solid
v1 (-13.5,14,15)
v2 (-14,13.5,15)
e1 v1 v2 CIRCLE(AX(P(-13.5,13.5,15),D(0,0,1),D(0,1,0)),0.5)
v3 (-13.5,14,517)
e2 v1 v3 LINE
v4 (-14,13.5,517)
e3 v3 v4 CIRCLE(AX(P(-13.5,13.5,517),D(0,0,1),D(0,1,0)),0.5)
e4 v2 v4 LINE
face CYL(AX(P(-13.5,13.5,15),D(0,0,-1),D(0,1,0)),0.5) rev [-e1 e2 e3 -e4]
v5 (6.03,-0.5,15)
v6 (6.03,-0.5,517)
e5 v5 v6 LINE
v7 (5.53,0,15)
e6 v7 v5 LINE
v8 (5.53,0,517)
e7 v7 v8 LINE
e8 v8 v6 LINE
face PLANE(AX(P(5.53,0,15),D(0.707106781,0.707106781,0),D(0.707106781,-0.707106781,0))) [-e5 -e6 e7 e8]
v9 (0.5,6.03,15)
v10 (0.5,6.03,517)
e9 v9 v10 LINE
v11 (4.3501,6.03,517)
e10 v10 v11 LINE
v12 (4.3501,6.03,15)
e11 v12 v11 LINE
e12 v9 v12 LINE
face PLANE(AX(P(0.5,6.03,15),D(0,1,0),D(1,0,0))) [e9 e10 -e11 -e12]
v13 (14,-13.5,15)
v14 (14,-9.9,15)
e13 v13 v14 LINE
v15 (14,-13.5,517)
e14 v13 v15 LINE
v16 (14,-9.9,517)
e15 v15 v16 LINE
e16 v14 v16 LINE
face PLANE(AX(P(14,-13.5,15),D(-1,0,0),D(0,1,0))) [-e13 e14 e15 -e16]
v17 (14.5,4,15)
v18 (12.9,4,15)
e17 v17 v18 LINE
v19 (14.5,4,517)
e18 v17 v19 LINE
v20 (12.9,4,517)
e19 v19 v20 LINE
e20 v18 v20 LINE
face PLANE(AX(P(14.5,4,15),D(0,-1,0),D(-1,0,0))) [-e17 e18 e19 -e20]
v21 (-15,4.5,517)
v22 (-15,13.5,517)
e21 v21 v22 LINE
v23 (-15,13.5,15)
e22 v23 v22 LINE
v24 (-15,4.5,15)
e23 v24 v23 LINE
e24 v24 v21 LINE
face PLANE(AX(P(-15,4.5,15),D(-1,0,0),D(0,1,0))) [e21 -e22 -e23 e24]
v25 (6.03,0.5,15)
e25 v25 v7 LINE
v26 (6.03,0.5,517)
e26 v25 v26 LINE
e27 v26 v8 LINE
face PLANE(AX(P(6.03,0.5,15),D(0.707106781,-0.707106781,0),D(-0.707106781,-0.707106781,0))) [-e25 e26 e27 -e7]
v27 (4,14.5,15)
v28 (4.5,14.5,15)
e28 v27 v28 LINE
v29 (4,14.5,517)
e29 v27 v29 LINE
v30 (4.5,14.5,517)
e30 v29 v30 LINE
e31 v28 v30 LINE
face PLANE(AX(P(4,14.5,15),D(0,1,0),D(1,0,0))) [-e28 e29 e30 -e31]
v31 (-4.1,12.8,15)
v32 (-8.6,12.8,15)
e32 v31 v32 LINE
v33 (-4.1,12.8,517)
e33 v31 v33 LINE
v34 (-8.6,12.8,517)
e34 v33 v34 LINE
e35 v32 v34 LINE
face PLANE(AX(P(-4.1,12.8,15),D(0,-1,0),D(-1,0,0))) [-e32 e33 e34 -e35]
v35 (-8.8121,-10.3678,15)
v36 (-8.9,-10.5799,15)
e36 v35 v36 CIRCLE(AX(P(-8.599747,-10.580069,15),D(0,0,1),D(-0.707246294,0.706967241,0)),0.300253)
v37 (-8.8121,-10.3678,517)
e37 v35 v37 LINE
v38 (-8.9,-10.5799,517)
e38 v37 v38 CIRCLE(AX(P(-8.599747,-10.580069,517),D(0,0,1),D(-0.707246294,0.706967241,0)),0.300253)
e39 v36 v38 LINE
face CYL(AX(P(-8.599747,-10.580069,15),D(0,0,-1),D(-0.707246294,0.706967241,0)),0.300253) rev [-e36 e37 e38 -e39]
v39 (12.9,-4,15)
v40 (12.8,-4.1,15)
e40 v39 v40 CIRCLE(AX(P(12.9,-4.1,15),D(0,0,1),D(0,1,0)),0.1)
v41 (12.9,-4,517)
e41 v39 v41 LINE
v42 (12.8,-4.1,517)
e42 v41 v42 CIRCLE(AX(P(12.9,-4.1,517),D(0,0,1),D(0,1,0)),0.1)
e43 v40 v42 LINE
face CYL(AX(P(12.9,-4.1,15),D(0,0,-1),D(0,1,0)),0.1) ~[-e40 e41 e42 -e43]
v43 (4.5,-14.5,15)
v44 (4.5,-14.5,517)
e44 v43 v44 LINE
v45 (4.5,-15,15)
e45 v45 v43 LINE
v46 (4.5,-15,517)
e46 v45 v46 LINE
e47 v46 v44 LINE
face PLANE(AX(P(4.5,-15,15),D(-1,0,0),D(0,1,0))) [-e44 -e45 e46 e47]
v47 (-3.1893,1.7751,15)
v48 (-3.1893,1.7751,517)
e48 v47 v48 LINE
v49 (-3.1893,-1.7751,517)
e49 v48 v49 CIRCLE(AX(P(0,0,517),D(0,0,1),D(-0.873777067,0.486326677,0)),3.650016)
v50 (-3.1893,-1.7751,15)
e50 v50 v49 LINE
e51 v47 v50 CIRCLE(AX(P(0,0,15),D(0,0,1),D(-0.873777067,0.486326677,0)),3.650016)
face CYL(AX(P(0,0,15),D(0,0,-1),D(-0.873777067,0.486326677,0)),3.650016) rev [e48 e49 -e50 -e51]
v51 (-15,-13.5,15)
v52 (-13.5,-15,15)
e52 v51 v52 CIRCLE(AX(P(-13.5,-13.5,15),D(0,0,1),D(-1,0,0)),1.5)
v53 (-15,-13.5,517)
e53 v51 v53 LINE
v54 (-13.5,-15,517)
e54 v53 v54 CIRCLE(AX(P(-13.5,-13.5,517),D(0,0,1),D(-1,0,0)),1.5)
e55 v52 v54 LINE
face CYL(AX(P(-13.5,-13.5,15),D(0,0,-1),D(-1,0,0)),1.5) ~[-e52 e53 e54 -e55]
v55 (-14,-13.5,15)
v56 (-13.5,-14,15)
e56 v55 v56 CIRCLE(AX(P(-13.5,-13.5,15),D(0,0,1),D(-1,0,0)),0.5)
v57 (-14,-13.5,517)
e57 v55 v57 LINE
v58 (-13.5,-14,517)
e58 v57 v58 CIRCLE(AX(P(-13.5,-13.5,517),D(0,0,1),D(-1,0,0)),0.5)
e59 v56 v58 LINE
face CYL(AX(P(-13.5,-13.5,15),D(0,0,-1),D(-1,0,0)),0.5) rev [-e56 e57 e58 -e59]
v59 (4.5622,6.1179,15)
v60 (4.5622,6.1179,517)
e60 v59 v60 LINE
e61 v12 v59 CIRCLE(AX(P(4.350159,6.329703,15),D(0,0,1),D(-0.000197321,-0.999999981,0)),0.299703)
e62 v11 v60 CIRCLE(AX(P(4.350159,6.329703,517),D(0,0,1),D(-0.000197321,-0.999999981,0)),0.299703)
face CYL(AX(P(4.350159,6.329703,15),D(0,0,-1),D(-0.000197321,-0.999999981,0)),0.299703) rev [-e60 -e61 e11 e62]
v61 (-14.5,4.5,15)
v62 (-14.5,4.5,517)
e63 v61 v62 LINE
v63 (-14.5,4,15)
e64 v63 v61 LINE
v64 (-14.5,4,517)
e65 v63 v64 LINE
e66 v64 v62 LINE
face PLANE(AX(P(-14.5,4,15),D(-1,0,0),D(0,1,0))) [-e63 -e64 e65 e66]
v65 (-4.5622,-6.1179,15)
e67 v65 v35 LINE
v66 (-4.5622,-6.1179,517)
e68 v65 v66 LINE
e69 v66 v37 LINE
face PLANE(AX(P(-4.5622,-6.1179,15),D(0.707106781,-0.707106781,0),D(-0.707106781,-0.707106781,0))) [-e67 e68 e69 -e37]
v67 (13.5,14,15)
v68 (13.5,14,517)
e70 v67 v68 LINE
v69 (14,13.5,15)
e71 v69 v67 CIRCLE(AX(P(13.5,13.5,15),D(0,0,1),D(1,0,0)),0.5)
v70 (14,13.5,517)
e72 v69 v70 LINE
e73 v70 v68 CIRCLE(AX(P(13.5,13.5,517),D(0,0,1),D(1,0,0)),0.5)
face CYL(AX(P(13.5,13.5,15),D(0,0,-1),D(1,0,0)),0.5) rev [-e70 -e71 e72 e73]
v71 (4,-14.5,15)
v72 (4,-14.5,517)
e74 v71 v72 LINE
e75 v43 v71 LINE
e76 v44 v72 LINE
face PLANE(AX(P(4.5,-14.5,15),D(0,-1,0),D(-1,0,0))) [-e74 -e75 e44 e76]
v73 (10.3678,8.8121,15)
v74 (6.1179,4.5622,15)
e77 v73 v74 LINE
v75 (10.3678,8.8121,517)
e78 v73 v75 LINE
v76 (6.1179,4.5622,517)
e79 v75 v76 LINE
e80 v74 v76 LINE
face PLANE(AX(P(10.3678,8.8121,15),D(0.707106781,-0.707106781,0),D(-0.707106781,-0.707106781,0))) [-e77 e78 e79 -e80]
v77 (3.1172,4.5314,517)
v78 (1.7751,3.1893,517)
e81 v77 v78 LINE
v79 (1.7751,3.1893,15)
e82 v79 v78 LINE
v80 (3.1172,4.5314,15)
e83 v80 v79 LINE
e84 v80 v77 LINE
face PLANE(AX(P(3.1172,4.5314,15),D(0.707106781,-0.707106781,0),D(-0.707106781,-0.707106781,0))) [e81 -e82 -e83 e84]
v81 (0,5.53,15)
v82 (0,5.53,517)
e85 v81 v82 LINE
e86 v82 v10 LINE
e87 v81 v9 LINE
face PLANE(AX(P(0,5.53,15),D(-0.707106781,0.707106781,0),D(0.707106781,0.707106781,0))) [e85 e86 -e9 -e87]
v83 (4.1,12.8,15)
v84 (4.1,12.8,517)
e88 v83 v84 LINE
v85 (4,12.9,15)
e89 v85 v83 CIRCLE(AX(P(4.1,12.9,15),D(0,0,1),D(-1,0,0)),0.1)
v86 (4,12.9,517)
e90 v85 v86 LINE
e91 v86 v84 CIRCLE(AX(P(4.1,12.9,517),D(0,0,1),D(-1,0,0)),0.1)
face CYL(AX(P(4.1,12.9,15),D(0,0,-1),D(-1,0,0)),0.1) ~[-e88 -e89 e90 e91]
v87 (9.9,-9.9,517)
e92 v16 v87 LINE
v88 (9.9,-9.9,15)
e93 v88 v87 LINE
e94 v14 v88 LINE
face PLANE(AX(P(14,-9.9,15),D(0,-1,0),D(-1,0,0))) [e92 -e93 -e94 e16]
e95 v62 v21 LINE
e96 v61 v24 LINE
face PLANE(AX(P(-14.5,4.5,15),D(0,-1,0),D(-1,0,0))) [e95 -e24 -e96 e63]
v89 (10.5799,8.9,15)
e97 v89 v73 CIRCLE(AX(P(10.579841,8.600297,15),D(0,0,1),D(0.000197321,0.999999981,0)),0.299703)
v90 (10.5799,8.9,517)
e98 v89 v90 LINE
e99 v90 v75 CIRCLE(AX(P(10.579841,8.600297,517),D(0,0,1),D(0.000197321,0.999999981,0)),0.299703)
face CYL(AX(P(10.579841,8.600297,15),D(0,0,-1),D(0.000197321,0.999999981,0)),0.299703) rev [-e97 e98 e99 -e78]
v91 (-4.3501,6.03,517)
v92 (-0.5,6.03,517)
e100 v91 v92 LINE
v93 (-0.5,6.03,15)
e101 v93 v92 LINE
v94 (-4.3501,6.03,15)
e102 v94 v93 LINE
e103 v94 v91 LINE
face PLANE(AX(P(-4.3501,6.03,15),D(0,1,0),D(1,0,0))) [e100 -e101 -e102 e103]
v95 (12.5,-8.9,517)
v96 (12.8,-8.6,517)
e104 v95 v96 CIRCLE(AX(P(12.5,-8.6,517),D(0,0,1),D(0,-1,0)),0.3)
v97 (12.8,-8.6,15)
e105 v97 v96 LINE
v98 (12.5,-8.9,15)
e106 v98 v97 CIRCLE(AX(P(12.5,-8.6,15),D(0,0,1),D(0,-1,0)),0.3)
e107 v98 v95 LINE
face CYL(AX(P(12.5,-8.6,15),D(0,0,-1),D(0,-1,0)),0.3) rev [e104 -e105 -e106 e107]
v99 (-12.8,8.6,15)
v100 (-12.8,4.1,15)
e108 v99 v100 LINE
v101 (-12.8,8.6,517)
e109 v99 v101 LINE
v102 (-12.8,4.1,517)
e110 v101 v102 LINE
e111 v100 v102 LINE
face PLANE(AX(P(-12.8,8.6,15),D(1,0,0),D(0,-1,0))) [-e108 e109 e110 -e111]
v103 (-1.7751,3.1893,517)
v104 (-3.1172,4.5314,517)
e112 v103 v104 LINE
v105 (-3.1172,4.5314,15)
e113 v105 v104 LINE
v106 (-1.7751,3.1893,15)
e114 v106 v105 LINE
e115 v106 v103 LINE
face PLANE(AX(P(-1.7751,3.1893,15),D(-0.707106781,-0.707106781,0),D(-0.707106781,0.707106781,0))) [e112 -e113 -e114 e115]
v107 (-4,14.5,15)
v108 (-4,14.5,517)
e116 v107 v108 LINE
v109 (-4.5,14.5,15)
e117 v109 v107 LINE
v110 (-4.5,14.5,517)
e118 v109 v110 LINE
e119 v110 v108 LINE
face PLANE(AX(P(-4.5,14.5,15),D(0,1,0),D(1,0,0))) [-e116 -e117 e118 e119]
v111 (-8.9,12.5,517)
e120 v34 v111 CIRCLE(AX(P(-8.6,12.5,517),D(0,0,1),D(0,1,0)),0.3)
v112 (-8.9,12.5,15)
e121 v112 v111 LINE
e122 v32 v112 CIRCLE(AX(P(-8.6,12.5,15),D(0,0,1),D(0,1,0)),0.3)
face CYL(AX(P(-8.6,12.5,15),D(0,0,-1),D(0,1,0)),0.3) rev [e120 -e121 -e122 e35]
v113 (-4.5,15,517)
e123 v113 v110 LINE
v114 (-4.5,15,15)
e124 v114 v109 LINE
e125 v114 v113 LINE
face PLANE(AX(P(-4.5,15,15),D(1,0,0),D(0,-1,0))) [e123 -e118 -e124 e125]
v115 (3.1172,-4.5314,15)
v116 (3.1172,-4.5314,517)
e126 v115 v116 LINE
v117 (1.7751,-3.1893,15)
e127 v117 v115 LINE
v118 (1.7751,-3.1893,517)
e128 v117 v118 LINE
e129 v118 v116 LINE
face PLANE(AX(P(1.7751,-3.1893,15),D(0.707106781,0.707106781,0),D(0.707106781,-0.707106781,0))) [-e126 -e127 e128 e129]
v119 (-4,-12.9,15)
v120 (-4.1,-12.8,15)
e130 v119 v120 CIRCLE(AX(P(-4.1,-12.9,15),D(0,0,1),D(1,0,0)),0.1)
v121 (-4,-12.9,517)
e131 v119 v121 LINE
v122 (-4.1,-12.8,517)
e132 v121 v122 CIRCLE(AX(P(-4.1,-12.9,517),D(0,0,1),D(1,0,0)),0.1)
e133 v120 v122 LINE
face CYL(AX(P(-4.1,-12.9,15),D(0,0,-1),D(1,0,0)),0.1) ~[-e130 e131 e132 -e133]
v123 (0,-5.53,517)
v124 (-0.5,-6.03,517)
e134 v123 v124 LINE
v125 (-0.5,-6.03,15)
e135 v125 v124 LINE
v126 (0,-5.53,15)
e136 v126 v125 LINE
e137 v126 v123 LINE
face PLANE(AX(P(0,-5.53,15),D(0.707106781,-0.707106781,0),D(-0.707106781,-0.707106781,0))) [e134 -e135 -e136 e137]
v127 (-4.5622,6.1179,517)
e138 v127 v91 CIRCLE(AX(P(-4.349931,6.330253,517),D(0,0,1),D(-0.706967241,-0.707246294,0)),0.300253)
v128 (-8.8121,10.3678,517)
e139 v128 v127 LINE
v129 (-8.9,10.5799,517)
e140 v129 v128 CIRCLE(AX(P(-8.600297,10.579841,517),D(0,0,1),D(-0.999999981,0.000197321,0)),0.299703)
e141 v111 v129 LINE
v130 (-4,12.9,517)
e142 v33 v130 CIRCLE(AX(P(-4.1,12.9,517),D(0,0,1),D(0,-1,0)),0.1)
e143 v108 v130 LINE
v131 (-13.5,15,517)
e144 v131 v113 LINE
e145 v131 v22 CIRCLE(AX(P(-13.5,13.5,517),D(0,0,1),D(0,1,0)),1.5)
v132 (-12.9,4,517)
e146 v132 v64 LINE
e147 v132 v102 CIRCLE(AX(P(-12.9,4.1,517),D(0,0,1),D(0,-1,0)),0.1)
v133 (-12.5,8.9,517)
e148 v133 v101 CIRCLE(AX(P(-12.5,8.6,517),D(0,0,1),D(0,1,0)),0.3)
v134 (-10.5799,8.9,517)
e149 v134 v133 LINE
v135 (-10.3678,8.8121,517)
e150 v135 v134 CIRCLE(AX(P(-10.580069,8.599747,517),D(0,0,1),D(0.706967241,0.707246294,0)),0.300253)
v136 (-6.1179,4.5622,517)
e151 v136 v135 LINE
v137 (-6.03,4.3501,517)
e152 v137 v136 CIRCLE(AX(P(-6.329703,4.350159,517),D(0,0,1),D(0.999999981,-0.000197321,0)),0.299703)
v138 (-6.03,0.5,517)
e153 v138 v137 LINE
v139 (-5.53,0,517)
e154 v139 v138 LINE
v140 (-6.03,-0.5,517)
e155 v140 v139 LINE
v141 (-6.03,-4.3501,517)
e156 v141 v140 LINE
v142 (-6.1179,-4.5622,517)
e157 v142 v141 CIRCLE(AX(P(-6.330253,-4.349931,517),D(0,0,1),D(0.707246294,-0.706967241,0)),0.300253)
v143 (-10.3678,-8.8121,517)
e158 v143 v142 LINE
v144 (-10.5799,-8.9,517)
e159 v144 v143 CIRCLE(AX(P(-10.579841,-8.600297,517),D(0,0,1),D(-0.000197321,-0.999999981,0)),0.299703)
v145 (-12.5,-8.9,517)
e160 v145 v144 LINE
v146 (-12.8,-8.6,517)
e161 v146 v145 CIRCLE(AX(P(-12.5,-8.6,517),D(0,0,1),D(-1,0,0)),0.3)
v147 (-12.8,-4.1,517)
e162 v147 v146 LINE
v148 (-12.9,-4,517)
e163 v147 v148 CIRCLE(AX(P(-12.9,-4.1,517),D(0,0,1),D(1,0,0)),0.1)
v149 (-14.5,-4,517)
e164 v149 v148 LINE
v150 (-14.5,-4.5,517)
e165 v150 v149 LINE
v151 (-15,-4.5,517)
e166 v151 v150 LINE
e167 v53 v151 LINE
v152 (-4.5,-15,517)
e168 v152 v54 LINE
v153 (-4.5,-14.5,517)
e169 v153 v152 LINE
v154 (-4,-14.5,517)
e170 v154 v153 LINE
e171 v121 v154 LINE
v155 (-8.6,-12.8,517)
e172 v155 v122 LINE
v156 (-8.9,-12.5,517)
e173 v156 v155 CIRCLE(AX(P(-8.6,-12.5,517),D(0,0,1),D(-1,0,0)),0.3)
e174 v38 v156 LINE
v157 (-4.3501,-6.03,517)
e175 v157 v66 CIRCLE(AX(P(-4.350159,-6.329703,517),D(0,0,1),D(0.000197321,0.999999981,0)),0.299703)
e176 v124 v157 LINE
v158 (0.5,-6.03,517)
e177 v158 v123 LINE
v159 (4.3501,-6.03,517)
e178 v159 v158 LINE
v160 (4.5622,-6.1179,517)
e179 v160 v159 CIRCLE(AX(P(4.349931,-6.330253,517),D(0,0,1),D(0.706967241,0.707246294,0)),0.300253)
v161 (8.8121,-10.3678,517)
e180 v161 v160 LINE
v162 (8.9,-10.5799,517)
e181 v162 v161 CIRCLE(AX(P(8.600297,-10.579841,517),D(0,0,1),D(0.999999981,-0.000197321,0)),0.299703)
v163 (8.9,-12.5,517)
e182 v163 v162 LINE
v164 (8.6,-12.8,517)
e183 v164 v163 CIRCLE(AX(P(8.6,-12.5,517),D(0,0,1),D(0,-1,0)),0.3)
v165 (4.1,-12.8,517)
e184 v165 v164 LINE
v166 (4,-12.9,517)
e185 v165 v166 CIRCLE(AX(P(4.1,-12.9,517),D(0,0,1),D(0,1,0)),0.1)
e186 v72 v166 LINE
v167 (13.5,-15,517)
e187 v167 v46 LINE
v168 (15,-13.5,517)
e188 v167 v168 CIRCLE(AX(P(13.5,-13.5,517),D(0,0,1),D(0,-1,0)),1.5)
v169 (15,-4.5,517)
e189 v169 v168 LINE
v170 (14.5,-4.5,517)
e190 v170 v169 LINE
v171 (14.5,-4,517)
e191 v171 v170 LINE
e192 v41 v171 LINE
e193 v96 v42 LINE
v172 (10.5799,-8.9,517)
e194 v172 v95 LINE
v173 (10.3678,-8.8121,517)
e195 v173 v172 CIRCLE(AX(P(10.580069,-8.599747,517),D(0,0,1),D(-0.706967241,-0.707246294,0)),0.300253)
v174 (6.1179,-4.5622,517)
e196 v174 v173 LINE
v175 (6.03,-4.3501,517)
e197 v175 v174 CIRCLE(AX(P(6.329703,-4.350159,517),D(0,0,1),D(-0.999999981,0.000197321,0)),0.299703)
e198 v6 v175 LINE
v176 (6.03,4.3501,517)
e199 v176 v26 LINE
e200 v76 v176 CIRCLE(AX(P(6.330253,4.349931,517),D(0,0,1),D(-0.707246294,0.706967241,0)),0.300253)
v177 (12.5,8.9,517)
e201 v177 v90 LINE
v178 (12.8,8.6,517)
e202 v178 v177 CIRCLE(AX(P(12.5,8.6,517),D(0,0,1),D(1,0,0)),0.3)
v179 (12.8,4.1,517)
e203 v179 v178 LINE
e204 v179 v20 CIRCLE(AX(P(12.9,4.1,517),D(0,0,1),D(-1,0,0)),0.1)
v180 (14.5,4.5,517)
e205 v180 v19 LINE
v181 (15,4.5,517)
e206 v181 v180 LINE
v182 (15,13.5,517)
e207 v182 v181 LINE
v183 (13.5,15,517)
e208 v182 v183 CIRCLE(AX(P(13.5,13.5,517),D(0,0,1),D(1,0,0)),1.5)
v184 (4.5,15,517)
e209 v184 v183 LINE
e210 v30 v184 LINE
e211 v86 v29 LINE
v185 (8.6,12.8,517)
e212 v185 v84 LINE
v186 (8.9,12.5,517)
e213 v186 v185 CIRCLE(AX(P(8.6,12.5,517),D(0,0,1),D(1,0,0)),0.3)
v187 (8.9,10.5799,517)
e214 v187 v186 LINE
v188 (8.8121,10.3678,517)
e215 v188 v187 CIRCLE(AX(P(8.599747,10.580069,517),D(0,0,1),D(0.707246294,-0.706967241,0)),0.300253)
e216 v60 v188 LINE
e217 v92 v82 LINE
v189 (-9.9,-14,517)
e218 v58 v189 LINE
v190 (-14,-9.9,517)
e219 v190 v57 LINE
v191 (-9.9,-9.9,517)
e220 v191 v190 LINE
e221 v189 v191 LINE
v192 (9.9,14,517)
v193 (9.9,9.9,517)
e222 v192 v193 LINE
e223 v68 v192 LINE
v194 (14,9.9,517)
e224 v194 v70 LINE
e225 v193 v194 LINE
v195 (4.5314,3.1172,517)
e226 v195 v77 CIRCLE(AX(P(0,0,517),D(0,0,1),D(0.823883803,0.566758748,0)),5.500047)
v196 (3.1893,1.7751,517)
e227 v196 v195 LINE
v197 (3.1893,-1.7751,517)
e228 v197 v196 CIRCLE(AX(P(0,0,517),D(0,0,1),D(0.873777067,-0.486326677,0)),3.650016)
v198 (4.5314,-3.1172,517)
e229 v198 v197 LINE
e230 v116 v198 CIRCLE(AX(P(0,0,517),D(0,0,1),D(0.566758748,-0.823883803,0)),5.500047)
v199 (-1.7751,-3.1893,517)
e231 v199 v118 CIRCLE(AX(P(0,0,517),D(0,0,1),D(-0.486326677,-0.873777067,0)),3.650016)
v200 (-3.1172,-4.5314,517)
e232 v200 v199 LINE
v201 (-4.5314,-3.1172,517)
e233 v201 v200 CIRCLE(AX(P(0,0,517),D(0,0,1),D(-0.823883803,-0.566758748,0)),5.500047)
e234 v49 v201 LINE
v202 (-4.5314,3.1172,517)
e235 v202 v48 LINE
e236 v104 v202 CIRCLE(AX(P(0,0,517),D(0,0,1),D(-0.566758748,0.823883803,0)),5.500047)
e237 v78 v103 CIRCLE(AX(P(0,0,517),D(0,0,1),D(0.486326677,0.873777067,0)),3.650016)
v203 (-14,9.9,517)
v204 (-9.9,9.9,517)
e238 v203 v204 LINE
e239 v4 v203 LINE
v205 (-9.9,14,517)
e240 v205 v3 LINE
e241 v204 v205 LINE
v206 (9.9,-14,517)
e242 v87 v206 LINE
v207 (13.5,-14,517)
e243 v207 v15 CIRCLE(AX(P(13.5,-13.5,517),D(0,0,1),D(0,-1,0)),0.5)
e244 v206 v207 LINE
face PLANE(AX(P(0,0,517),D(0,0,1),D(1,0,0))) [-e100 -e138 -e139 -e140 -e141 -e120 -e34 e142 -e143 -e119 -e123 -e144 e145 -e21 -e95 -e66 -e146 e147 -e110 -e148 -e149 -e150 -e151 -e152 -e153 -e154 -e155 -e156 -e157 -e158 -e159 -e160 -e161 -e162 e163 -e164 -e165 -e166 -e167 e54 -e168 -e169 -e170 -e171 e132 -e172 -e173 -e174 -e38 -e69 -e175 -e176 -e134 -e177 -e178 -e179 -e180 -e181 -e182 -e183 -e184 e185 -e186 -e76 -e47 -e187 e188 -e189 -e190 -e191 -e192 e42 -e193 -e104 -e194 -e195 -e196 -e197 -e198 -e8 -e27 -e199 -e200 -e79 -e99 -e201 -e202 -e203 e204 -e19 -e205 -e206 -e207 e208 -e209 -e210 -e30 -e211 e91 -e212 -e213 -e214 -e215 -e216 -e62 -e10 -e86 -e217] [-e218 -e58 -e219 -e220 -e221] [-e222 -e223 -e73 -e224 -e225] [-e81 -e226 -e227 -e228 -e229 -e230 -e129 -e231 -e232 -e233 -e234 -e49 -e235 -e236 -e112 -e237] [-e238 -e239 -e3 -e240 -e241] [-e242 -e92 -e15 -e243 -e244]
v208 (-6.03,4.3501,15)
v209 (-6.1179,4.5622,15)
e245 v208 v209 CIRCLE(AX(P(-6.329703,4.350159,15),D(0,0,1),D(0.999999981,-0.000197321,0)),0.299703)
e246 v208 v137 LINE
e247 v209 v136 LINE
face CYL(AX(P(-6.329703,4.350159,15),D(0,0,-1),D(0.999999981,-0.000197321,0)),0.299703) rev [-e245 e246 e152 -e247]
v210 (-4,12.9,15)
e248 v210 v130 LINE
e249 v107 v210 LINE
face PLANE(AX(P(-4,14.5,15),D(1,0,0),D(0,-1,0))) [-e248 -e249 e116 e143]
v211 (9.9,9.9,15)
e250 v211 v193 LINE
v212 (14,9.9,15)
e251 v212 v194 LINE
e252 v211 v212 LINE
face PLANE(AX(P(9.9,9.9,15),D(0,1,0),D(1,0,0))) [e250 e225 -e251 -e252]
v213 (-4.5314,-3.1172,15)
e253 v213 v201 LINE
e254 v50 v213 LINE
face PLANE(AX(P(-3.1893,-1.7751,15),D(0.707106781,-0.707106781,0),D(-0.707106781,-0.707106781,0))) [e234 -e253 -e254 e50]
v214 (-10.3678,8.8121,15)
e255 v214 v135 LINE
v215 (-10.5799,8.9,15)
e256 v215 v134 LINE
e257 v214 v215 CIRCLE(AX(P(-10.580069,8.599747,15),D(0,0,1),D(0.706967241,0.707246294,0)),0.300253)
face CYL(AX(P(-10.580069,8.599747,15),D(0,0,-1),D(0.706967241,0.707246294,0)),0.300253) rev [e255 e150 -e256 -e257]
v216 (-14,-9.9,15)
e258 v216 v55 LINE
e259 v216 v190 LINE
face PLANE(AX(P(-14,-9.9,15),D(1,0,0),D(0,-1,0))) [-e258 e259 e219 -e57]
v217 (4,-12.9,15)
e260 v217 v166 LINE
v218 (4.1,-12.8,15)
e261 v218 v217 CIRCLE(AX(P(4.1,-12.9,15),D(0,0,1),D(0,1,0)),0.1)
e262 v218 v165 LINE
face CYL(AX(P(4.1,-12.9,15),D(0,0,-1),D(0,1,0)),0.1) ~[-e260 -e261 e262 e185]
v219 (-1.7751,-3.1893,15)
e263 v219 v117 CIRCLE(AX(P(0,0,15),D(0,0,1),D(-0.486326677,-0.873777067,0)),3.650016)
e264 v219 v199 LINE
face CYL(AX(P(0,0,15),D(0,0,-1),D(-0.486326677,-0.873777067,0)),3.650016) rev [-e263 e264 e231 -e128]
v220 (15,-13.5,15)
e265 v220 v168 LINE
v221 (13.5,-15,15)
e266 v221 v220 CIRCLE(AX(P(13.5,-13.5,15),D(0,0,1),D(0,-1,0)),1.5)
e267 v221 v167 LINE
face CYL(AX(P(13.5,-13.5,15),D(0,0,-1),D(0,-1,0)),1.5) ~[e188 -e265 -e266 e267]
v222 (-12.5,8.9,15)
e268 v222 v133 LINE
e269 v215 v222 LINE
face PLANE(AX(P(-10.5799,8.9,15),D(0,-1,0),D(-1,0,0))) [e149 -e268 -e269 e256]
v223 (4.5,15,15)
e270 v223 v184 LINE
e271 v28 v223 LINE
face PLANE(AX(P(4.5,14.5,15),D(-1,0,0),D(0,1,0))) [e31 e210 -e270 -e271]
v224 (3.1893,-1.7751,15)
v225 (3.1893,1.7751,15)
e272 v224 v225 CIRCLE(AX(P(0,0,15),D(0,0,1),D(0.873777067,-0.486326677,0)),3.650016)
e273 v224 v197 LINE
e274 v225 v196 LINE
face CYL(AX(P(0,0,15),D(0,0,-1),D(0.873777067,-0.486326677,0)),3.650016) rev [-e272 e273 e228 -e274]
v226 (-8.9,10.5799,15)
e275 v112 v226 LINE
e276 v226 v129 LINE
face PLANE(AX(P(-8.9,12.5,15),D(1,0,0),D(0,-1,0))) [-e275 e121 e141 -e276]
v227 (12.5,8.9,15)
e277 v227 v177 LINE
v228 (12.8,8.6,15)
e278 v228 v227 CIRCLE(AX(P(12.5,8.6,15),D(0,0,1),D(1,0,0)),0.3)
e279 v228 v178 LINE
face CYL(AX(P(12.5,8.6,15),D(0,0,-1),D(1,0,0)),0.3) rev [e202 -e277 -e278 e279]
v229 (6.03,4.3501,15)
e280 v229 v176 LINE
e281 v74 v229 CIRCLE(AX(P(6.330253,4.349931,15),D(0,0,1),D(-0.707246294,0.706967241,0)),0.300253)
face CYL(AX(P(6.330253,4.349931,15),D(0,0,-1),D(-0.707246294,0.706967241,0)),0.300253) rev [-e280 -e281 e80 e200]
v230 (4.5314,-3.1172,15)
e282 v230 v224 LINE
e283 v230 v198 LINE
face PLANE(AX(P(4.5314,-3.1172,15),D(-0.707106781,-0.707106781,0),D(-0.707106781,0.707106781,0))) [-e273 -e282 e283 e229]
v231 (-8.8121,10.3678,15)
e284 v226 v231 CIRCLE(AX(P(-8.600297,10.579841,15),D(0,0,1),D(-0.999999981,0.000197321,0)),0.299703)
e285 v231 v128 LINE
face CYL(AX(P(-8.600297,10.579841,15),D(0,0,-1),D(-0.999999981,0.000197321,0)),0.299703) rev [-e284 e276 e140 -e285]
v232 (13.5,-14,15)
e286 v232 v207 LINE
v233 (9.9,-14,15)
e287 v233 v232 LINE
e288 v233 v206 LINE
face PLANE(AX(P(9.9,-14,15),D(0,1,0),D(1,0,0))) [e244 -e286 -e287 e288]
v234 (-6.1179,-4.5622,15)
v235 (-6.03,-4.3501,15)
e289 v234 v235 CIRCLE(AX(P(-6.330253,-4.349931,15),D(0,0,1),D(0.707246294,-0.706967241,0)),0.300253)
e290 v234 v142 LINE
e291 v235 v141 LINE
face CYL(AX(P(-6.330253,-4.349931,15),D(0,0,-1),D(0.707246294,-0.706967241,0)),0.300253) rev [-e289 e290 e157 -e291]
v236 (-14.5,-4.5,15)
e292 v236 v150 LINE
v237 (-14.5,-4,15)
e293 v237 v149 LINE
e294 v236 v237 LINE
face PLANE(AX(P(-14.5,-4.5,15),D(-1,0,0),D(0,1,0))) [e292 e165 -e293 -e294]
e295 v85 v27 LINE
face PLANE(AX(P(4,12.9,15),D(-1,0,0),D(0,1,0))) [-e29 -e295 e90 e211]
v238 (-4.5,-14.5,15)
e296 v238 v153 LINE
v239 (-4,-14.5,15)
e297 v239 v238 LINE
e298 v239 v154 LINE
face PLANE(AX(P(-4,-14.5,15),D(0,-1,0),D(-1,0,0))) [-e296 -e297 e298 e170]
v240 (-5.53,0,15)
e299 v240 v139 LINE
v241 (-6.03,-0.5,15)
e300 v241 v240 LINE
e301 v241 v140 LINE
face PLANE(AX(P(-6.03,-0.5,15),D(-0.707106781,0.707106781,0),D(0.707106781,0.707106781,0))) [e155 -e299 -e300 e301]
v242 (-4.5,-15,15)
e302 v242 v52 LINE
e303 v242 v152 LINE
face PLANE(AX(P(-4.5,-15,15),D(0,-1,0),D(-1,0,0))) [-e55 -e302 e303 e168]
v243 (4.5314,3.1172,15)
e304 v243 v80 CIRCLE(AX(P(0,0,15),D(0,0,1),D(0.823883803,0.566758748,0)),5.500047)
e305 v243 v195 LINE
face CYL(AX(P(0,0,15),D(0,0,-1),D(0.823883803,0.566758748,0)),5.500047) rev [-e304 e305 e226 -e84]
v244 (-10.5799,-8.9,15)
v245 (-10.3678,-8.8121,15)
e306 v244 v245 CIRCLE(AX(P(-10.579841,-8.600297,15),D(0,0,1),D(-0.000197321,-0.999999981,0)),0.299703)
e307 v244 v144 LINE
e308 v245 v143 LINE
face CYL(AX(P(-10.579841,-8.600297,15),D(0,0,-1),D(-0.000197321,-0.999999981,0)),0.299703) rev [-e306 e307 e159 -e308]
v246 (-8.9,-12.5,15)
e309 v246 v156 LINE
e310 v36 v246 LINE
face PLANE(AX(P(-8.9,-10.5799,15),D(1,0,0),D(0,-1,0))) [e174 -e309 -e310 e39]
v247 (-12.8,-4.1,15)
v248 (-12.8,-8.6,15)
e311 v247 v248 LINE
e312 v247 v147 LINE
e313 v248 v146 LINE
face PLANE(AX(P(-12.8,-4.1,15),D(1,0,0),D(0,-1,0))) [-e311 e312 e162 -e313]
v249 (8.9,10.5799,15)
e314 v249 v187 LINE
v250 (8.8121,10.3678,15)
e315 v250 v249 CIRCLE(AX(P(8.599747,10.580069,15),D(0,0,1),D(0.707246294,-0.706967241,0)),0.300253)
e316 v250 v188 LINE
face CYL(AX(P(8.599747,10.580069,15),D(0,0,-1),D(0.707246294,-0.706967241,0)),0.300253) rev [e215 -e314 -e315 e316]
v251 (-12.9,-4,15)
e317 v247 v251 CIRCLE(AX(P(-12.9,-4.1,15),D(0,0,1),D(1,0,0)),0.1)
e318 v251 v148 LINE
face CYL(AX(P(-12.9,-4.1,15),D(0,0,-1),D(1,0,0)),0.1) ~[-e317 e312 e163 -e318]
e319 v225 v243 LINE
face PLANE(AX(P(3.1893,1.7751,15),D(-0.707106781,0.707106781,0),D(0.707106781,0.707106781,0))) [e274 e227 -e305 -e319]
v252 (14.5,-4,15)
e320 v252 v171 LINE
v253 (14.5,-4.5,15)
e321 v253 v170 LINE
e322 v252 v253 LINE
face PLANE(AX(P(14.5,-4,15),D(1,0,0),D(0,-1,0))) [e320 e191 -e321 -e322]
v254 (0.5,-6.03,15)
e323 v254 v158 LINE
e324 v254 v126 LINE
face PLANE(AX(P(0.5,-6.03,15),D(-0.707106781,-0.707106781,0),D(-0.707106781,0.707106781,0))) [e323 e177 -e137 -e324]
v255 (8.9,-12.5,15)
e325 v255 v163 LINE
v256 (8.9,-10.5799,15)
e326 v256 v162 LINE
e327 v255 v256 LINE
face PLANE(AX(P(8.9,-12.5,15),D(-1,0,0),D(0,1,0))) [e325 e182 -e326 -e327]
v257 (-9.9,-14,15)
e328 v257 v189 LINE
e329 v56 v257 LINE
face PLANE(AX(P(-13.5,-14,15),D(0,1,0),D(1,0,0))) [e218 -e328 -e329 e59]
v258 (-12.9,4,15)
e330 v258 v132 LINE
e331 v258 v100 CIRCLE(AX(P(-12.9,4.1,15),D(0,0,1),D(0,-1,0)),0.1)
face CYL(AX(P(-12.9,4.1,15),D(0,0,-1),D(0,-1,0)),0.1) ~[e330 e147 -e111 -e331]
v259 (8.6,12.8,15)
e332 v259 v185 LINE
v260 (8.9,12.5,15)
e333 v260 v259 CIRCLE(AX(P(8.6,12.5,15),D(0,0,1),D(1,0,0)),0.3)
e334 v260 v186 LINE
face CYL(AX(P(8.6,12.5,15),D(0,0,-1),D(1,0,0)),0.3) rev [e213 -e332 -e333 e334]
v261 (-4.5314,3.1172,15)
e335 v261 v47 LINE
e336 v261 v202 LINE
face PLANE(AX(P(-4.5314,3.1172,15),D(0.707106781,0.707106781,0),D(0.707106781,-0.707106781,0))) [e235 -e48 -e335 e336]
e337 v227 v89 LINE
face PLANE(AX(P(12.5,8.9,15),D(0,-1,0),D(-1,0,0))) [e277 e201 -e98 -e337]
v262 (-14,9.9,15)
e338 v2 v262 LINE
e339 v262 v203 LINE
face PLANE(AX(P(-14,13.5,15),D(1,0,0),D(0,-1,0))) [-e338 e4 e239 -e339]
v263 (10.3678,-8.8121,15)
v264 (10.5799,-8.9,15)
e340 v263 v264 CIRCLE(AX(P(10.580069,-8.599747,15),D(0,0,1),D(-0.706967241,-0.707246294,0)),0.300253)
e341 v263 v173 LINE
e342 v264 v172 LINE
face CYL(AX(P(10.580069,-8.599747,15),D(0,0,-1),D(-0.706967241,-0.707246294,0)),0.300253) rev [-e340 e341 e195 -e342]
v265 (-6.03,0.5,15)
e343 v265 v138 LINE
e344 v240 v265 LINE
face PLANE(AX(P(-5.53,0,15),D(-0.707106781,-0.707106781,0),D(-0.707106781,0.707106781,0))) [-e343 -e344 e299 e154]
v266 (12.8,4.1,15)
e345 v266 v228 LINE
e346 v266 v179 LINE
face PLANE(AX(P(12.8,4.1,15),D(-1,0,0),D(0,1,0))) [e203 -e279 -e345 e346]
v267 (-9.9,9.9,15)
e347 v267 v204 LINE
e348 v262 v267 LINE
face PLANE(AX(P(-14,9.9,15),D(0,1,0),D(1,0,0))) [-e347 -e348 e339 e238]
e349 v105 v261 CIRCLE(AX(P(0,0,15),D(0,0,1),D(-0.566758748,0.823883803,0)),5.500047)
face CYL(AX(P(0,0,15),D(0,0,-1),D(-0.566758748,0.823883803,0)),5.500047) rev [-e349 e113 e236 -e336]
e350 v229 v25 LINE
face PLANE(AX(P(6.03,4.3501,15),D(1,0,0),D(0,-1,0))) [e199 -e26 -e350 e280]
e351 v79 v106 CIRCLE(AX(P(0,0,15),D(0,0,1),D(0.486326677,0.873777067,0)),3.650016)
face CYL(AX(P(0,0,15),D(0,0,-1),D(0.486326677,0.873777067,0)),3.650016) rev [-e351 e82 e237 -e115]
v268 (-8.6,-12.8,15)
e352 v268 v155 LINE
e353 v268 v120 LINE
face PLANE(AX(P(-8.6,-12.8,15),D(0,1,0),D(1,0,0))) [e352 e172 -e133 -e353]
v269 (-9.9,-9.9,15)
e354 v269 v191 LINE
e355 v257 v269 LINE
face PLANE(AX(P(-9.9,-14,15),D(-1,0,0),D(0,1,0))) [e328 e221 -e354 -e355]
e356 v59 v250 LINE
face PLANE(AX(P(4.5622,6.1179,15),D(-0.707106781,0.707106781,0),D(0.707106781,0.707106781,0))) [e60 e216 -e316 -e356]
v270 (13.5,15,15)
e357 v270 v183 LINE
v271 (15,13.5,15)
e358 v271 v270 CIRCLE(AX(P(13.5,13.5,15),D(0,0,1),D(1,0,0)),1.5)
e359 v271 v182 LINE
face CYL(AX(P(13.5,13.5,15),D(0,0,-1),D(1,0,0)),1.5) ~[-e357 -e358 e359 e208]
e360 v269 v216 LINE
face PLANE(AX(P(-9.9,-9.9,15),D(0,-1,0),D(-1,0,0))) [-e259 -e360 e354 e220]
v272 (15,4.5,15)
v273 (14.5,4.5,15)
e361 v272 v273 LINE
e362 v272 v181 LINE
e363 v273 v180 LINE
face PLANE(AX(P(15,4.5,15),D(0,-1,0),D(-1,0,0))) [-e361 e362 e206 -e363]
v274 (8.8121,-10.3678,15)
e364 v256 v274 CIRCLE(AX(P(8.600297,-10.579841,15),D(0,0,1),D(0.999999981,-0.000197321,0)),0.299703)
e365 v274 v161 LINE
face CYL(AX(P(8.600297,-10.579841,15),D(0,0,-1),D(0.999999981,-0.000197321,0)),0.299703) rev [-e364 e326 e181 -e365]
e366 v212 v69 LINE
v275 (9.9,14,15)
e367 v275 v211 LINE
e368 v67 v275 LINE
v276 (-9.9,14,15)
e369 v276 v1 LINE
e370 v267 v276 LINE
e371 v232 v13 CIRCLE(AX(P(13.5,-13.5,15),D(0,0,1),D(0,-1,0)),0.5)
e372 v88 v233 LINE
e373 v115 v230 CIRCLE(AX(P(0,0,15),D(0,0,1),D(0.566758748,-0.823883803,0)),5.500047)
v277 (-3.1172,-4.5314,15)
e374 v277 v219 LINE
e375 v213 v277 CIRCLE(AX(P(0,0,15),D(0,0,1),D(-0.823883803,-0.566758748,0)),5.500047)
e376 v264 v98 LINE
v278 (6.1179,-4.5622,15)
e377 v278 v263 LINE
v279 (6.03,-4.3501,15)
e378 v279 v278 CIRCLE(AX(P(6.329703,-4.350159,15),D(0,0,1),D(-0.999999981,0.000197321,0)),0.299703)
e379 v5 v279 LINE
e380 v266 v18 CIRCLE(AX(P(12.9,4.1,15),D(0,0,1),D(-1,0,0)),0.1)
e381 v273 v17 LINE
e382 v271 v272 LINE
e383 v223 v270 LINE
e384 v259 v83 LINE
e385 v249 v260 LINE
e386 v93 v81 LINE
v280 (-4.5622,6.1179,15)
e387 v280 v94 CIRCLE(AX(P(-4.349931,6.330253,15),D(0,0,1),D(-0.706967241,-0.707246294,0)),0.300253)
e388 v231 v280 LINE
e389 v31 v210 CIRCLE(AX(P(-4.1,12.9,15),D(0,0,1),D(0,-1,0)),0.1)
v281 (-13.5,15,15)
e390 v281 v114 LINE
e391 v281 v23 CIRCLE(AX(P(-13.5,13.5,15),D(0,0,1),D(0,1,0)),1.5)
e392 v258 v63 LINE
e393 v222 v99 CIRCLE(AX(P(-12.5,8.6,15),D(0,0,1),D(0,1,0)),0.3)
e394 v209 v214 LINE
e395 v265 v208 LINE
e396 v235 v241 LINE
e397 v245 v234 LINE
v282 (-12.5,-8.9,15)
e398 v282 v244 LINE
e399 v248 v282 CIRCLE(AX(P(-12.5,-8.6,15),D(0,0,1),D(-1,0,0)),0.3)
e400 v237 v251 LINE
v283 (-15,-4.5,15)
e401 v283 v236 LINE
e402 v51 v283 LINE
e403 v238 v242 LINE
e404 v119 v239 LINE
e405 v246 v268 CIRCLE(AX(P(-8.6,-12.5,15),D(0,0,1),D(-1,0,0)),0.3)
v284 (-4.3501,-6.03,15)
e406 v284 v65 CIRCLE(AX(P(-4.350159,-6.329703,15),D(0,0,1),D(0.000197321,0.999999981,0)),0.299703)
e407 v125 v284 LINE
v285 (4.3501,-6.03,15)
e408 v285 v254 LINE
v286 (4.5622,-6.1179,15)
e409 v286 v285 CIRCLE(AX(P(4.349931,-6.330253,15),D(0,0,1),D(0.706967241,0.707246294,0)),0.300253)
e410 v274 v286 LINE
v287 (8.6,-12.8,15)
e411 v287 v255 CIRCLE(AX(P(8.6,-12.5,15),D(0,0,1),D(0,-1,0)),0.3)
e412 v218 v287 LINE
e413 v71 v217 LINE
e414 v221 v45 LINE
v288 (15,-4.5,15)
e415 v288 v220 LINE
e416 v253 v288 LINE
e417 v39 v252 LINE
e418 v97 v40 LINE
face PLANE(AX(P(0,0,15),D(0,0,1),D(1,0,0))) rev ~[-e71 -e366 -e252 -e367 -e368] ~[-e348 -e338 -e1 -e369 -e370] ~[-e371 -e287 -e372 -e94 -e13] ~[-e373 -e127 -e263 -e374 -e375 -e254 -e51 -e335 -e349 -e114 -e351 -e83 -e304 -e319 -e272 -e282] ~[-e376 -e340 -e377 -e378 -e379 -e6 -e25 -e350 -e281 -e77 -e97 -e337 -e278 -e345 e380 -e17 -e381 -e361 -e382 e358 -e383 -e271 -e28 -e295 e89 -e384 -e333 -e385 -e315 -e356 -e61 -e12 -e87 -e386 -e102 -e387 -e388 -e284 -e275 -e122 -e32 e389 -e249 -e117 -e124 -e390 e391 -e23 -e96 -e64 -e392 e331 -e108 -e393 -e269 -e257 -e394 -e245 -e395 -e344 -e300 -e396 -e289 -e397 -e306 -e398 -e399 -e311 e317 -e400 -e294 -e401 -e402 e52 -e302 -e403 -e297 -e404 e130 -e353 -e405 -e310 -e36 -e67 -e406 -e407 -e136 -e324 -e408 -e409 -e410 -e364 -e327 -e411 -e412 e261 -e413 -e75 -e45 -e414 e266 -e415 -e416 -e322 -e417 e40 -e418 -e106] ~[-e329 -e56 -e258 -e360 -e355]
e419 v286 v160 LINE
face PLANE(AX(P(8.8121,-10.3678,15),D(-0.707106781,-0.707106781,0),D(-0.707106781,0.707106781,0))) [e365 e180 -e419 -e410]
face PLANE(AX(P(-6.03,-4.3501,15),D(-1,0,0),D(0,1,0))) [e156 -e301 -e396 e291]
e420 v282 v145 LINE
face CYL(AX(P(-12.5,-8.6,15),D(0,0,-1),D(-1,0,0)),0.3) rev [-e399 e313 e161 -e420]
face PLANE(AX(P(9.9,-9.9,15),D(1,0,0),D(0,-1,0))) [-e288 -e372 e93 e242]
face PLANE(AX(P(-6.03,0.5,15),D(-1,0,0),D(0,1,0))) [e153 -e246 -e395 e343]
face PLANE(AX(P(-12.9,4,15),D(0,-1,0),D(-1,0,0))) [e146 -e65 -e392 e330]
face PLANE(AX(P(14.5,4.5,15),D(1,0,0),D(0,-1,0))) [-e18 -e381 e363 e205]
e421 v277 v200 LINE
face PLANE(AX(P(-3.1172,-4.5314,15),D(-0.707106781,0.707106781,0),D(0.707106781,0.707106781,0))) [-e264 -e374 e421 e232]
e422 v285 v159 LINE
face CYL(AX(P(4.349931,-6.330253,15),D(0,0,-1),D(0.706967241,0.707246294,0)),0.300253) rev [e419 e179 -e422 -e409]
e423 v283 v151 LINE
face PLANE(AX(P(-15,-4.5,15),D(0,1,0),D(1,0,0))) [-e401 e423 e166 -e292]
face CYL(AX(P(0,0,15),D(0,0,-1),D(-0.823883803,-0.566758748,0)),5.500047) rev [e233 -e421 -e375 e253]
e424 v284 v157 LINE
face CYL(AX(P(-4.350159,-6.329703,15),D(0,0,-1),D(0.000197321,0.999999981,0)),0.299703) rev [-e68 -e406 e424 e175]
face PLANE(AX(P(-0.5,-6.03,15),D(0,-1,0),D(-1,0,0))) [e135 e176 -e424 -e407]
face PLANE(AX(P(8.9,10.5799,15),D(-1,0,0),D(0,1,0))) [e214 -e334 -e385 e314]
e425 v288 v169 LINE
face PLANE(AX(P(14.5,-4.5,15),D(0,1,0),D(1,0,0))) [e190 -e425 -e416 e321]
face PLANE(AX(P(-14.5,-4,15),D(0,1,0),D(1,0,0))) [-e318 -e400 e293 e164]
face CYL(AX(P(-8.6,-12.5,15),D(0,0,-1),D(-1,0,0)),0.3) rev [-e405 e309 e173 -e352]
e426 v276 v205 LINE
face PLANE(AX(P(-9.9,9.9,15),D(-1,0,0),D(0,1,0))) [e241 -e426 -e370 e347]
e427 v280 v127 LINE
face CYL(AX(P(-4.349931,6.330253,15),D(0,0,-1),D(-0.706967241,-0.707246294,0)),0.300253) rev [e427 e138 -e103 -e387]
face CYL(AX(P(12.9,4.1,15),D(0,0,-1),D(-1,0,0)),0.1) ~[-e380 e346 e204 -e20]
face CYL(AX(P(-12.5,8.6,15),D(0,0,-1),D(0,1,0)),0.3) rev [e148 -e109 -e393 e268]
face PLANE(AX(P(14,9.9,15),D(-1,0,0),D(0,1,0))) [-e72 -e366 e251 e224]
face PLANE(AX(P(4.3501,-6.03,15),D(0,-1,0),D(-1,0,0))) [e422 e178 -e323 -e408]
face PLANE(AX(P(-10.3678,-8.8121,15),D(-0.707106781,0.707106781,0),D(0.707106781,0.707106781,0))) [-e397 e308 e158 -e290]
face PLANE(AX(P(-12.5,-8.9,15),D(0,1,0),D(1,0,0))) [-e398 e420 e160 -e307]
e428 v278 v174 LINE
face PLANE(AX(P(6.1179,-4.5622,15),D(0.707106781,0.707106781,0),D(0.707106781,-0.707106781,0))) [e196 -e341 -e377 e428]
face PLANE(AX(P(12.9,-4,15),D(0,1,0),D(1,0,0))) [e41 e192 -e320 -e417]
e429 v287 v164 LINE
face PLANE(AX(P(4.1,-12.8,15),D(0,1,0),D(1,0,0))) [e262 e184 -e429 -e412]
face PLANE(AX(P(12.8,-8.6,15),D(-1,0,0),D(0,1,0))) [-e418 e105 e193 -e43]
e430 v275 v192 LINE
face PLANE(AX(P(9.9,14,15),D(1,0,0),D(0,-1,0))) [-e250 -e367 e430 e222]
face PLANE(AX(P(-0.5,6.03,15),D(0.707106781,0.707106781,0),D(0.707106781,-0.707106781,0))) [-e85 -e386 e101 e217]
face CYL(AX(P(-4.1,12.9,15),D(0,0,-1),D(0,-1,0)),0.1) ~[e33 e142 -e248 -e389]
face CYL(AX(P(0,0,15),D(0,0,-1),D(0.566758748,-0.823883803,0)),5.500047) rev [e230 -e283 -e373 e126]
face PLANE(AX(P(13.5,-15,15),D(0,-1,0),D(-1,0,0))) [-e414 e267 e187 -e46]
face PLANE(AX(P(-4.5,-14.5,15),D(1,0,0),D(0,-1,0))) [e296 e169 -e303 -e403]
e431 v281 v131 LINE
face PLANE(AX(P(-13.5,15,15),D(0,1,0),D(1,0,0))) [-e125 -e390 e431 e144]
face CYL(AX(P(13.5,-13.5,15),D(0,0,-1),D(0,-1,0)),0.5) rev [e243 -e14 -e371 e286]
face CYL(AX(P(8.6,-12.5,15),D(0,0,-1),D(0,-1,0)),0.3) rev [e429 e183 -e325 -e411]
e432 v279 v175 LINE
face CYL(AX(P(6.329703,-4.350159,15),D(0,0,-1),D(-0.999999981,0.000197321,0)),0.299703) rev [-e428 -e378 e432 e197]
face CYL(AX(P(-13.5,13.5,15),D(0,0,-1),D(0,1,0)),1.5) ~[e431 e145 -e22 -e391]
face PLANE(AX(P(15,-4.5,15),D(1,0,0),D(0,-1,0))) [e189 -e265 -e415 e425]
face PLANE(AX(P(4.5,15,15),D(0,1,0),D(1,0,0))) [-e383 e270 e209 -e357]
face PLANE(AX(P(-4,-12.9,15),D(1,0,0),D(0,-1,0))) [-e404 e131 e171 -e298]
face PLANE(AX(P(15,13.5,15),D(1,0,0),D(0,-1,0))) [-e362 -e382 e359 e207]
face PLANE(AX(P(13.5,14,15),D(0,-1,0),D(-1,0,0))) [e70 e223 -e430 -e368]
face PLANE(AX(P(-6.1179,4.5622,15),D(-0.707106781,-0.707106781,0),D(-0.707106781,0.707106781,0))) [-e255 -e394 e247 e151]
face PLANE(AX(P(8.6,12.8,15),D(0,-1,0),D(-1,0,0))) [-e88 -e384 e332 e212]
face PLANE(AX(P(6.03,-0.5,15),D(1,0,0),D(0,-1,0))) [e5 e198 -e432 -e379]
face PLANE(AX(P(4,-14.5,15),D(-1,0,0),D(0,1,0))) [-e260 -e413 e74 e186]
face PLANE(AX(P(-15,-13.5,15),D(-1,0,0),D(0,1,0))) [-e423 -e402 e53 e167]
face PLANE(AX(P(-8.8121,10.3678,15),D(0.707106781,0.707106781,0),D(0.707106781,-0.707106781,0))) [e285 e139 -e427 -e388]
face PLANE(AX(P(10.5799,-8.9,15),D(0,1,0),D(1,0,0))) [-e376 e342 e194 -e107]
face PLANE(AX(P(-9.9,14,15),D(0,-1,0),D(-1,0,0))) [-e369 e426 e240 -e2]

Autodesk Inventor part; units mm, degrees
ref_plane "Płaszczyzna początkowa" through (0, 0, 15) normal (0, 0, 1) x (1, 0, 0)
ref_plane "Płaszczyzna końcowa" through (0, 0, 517) normal (0, 0, 1) x (1, 0, 0)
sketch "Szkic" plane through (0, 0, 0) normal (0, 0, 1) x (1, 0, 0)
  line L0 (1.7751, -3.1893) -> (3.1172, -4.5314)
  arc A0 (-1.7751, -3.1893) -> (1.7751, -3.1893) centre (0, 0) ccw
  line L1 (-3.1172, -4.5314) -> (-1.7751, -3.1893)
  arc A1 (-4.5314, -3.1172) -> (-3.1172, -4.5314) centre (0, 0) ccw
  line L2 (-3.1893, -1.7751) -> (-4.5314, -3.1172)
  arc A2 (-3.1893, 1.7751) -> (-3.1893, -1.7751) centre (0, 0) ccw
  line L3 (-4.5314, 3.1172) -> (-3.1893, 1.7751)
  arc A3 (-3.1172, 4.5314) -> (-4.5314, 3.1172) centre (0, 0) ccw
  line L4 (-1.7751, 3.1893) -> (-3.1172, 4.5314)
  arc A4 (1.7751, 3.1893) -> (-1.7751, 3.1893) centre (0, 0) ccw
  line L5 (3.1172, 4.5314) -> (1.7751, 3.1893)
  arc A5 (4.5314, 3.1172) -> (3.1172, 4.5314) centre (0, 0) ccw
  line L6 (3.1893, 1.7751) -> (4.5314, 3.1172)
  arc A6 (3.1893, -1.7751) -> (3.1893, 1.7751) centre (0, 0) ccw
  line L7 (4.5314, -3.1172) -> (3.1893, -1.7751)
  arc A7 (3.1172, -4.5314) -> (4.5314, -3.1172) centre (0, 0) ccw
  line L8 (14, -13.5) -> (14, -9.9)
  arc A8 (13.5, -14) -> (14, -13.5) centre (13.5, -13.5) ccw
  line L9 (9.9, -14) -> (13.5, -14)
  line L10 (9.9, -9.9) -> (9.9, -14)
  line L11 (14, -9.9) -> (9.9, -9.9)
  line L12 (-9.9, -9.9) -> (-14, -9.9)
  line L13 (-9.9, -14) -> (-9.9, -9.9)
  line L14 (-13.5, -14) -> (-9.9, -14)
  arc A9 (-14, -13.5) -> (-13.5, -14) centre (-13.5, -13.5) ccw
  line L15 (-14, -9.9) -> (-14, -13.5)
  line L16 (14, 9.9) -> (14, 13.5)
  line L17 (9.9, 9.9) -> (14, 9.9)
  line L18 (9.9, 14) -> (9.9, 9.9)
  line L19 (13.5, 14) -> (9.9, 14)
  arc A10 (14, 13.5) -> (13.5, 14) centre (13.5, 13.5) ccw
  line L20 (-14, 9.9) -> (-9.9, 9.9)
  line L21 (-14, 13.5) -> (-14, 9.9)
  arc A11 (-13.5, 14) -> (-14, 13.5) centre (-13.5, 13.5) ccw
  line L22 (-9.9, 14) -> (-13.5, 14)
  line L23 (-9.9, 9.9) -> (-9.9, 14)
  line L24 (13.5, -15) -> (4.5, -15)
  arc A12 (13.5, -15) -> (15, -13.5) centre (13.5, -13.5) ccw
  line L25 (15, -4.5) -> (15, -13.5)
  line L26 (14.5, -4.5) -> (15, -4.5)
  line L27 (14.5, -4) -> (14.5, -4.5)
  line L28 (12.9, -4) -> (14.5, -4)
  arc A13 (12.9, -4) -> (12.8, -4.1) centre (12.9, -4.1) ccw
  line L29 (12.8, -8.6) -> (12.8, -4.1)
  arc A14 (12.5, -8.9) -> (12.8, -8.6) centre (12.5, -8.6) ccw
  line L30 (10.5799, -8.9) -> (12.5, -8.9)
  arc A15 (10.3678, -8.8121) -> (10.5799, -8.9) centre (10.5799, -8.6) ccw
  line L31 (6.1179, -4.5622) -> (10.3678, -8.8121)
  arc A16 (6.03, -4.3501) -> (6.1179, -4.5622) centre (6.33, -4.3501) ccw
  line L32 (6.03, -0.5) -> (6.03, -4.3501)
  line L33 (5.53, 0) -> (6.03, -0.5)
  line L34 (6.03, 0.5) -> (5.53, 0)
  line L35 (6.03, 4.3501) -> (6.03, 0.5)
  arc A17 (6.1179, 4.5622) -> (6.03, 4.3501) centre (6.33, 4.3501) ccw
  line L36 (10.3678, 8.8121) -> (6.1179, 4.5622)
  arc A18 (10.5799, 8.9) -> (10.3678, 8.8121) centre (10.5799, 8.6) ccw
  line L37 (12.5, 8.9) -> (10.5799, 8.9)
  arc A19 (12.8, 8.6) -> (12.5, 8.9) centre (12.5, 8.6) ccw
  line L38 (12.8, 4.1) -> (12.8, 8.6)
  arc A20 (12.8, 4.1) -> (12.9, 4) centre (12.9, 4.1) ccw
  line L39 (14.5, 4) -> (12.9, 4)
  line L40 (14.5, 4.5) -> (14.5, 4)
  line L41 (15, 4.5) -> (14.5, 4.5)
  line L42 (15, 13.5) -> (15, 4.5)
  arc A21 (15, 13.5) -> (13.5, 15) centre (13.5, 13.5) ccw
  line L43 (4.5, 15) -> (13.5, 15)
  line L44 (4.5, 14.5) -> (4.5, 15)
  line L45 (4, 14.5) -> (4.5, 14.5)
  line L46 (4, 12.9) -> (4, 14.5)
  arc A22 (4, 12.9) -> (4.1, 12.8) centre (4.1, 12.9) ccw
  line L47 (8.6, 12.8) -> (4.1, 12.8)
  arc A23 (8.9, 12.5) -> (8.6, 12.8) centre (8.6, 12.5) ccw
  line L48 (8.9, 10.5799) -> (8.9, 12.5)
  arc A24 (8.8121, 10.3678) -> (8.9, 10.5799) centre (8.6, 10.5799) ccw
  line L49 (4.5622, 6.1179) -> (8.8121, 10.3678)
  arc A25 (4.3501, 6.03) -> (4.5622, 6.1179) centre (4.3501, 6.33) ccw
  line L50 (0.5, 6.03) -> (4.3501, 6.03)
  line L51 (0, 5.53) -> (0.5, 6.03)
  line L52 (-0.5, 6.03) -> (0, 5.53)
  line L53 (-4.3501, 6.03) -> (-0.5, 6.03)
  arc A26 (-4.5622, 6.1179) -> (-4.3501, 6.03) centre (-4.3501, 6.33) ccw
  line L54 (-8.8121, 10.3678) -> (-4.5622, 6.1179)
  arc A27 (-8.9, 10.5799) -> (-8.8121, 10.3678) centre (-8.6, 10.5799) ccw
  line L55 (-8.9, 12.5) -> (-8.9, 10.5799)
  arc A28 (-8.6, 12.8) -> (-8.9, 12.5) centre (-8.6, 12.5) ccw
  line L56 (-4.1, 12.8) -> (-8.6, 12.8)
  arc A29 (-4.1, 12.8) -> (-4, 12.9) centre (-4.1, 12.9) ccw
  line L57 (-4, 14.5) -> (-4, 12.9)
  line L58 (-4.5, 14.5) -> (-4, 14.5)
  line L59 (-4.5, 15) -> (-4.5, 14.5)
  line L60 (-13.5, 15) -> (-4.5, 15)
  arc A30 (-13.5, 15) -> (-15, 13.5) centre (-13.5, 13.5) ccw
  line L61 (-15, 4.5) -> (-15, 13.5)
  line L62 (-14.5, 4.5) -> (-15, 4.5)
  line L63 (-14.5, 4) -> (-14.5, 4.5)
  line L64 (-12.9, 4) -> (-14.5, 4)
  arc A31 (-12.9, 4) -> (-12.8, 4.1) centre (-12.9, 4.1) ccw
  line L65 (-12.8, 8.6) -> (-12.8, 4.1)
  arc A32 (-12.5, 8.9) -> (-12.8, 8.6) centre (-12.5, 8.6) ccw
  line L66 (-10.5799, 8.9) -> (-12.5, 8.9)
  arc A33 (-10.3678, 8.8121) -> (-10.5799, 8.9) centre (-10.5799, 8.6) ccw
  line L67 (-6.1179, 4.5622) -> (-10.3678, 8.8121)
  arc A34 (-6.03, 4.3501) -> (-6.1179, 4.5622) centre (-6.33, 4.3501) ccw
  line L68 (-6.03, 0.5) -> (-6.03, 4.3501)
  line L69 (-5.53, 0) -> (-6.03, 0.5)
  line L70 (-6.03, -0.5) -> (-5.53, 0)
  line L71 (-6.03, -4.3501) -> (-6.03, -0.5)
  arc A35 (-6.1179, -4.5622) -> (-6.03, -4.3501) centre (-6.33, -4.3501) ccw
  line L72 (-10.3678, -8.8121) -> (-6.1179, -4.5622)
  arc A36 (-10.5799, -8.9) -> (-10.3678, -8.8121) centre (-10.5799, -8.6) ccw
  line L73 (-12.5, -8.9) -> (-10.5799, -8.9)
  arc A37 (-12.8, -8.6) -> (-12.5, -8.9) centre (-12.5, -8.6) ccw
  line L74 (-12.8, -4.1) -> (-12.8, -8.6)
  arc A38 (-12.8, -4.1) -> (-12.9, -4) centre (-12.9, -4.1) ccw
  line L75 (-14.5, -4) -> (-12.9, -4)
  line L76 (-14.5, -4.5) -> (-14.5, -4)
  line L77 (-15, -4.5) -> (-14.5, -4.5)
  line L78 (-15, -13.5) -> (-15, -4.5)
  arc A39 (-15, -13.5) -> (-13.5, -15) centre (-13.5, -13.5) ccw
  line L79 (-4.5, -15) -> (-13.5, -15)
  line L80 (-4.5, -14.5) -> (-4.5, -15)
  line L81 (-4, -14.5) -> (-4.5, -14.5)
  line L82 (-4, -12.9) -> (-4, -14.5)
  arc A40 (-4, -12.9) -> (-4.1, -12.8) centre (-4.1, -12.9) ccw
  line L83 (-8.6, -12.8) -> (-4.1, -12.8)
  arc A41 (-8.9, -12.5) -> (-8.6, -12.8) centre (-8.6, -12.5) ccw
  line L84 (-8.9, -10.5799) -> (-8.9, -12.5)
  arc A42 (-8.8121, -10.3678) -> (-8.9, -10.5799) centre (-8.6, -10.5799) ccw
  line L85 (-4.5622, -6.1179) -> (-8.8121, -10.3678)
  arc A43 (-4.3501, -6.03) -> (-4.5622, -6.1179) centre (-4.3501, -6.33) ccw
  line L86 (-0.5, -6.03) -> (-4.3501, -6.03)
  line L87 (0, -5.53) -> (-0.5, -6.03)
  line L88 (0.5, -6.03) -> (0, -5.53)
  line L89 (4.3501, -6.03) -> (0.5, -6.03)
  arc A44 (4.5622, -6.1179) -> (4.3501, -6.03) centre (4.3501, -6.33) ccw
  line L90 (8.8121, -10.3678) -> (4.5622, -6.1179)
  arc A45 (8.9, -10.5799) -> (8.8121, -10.3678) centre (8.6, -10.5799) ccw
  line L91 (8.9, -12.5) -> (8.9, -10.5799)
  arc A46 (8.6, -12.8) -> (8.9, -12.5) centre (8.6, -12.5) ccw
  line L92 (4.1, -12.8) -> (8.6, -12.8)
  arc A47 (4.1, -12.8) -> (4, -12.9) centre (4.1, -12.9) ccw
  line L93 (4, -14.5) -> (4, -12.9)
  line L94 (4.5, -14.5) -> (4, -14.5)
  line L95 (4.5, -15) -> (4.5, -14.5)
  point P0 (15, -15)
extrude "Bryła" add sketch "Szkic" along normal up to surface (502 mm away) from surface at 15
sketch "Szkic2" plane through (0, 0, 0) normal (0, 0, 1) x (1, 0, 0)
  line L0 (0, 0) -> (10, 0)
ref_plane "Płaszczyzna konstrukcyjna3" through (0, 0, 0) normal (0, -1, 0) x (1, 0, 0)
sketch "Szkic3" plane through (0, 0, 0) normal (0, -1, 0) x (1, 0, 0)
  line L0 (-2, 15) -> (12, 15)
  line L1 (-2, 517) -> (12, 517)
  dimension "d7" = 502
ref_plane "Płaszczyzna konstrukcyjna4" through (-4.5, 0, 15) normal (0, 0, -1) x (-1, 0, 0)
split "Podział1" plane through (-4.5, 0, 15) removes the side toward (0, 0, -1)
ref_plane "Płaszczyzna konstrukcyjna5" through (-4.5, -565, 517) normal (0, 0, 1) x (1, 0, 0)
split "Podział2" plane through (-4.5, -565, 517) removes the side toward (0, 0, 1)
equation "\"G_OFFSET_START\" = -15"
equation "\"G_OFFSET_END\" = -15"
equation "\"d2\" = -G_OFFSET_START"
equation "\"d3\" = Length + G_OFFSET_END"
equation "\"G_L\" = d7"
equation "\"Length\" = 532"
properties part number "COTS_ARMA_AR3703_30x30_Alu_Extr_00000014" material "Aluminium 6061"
